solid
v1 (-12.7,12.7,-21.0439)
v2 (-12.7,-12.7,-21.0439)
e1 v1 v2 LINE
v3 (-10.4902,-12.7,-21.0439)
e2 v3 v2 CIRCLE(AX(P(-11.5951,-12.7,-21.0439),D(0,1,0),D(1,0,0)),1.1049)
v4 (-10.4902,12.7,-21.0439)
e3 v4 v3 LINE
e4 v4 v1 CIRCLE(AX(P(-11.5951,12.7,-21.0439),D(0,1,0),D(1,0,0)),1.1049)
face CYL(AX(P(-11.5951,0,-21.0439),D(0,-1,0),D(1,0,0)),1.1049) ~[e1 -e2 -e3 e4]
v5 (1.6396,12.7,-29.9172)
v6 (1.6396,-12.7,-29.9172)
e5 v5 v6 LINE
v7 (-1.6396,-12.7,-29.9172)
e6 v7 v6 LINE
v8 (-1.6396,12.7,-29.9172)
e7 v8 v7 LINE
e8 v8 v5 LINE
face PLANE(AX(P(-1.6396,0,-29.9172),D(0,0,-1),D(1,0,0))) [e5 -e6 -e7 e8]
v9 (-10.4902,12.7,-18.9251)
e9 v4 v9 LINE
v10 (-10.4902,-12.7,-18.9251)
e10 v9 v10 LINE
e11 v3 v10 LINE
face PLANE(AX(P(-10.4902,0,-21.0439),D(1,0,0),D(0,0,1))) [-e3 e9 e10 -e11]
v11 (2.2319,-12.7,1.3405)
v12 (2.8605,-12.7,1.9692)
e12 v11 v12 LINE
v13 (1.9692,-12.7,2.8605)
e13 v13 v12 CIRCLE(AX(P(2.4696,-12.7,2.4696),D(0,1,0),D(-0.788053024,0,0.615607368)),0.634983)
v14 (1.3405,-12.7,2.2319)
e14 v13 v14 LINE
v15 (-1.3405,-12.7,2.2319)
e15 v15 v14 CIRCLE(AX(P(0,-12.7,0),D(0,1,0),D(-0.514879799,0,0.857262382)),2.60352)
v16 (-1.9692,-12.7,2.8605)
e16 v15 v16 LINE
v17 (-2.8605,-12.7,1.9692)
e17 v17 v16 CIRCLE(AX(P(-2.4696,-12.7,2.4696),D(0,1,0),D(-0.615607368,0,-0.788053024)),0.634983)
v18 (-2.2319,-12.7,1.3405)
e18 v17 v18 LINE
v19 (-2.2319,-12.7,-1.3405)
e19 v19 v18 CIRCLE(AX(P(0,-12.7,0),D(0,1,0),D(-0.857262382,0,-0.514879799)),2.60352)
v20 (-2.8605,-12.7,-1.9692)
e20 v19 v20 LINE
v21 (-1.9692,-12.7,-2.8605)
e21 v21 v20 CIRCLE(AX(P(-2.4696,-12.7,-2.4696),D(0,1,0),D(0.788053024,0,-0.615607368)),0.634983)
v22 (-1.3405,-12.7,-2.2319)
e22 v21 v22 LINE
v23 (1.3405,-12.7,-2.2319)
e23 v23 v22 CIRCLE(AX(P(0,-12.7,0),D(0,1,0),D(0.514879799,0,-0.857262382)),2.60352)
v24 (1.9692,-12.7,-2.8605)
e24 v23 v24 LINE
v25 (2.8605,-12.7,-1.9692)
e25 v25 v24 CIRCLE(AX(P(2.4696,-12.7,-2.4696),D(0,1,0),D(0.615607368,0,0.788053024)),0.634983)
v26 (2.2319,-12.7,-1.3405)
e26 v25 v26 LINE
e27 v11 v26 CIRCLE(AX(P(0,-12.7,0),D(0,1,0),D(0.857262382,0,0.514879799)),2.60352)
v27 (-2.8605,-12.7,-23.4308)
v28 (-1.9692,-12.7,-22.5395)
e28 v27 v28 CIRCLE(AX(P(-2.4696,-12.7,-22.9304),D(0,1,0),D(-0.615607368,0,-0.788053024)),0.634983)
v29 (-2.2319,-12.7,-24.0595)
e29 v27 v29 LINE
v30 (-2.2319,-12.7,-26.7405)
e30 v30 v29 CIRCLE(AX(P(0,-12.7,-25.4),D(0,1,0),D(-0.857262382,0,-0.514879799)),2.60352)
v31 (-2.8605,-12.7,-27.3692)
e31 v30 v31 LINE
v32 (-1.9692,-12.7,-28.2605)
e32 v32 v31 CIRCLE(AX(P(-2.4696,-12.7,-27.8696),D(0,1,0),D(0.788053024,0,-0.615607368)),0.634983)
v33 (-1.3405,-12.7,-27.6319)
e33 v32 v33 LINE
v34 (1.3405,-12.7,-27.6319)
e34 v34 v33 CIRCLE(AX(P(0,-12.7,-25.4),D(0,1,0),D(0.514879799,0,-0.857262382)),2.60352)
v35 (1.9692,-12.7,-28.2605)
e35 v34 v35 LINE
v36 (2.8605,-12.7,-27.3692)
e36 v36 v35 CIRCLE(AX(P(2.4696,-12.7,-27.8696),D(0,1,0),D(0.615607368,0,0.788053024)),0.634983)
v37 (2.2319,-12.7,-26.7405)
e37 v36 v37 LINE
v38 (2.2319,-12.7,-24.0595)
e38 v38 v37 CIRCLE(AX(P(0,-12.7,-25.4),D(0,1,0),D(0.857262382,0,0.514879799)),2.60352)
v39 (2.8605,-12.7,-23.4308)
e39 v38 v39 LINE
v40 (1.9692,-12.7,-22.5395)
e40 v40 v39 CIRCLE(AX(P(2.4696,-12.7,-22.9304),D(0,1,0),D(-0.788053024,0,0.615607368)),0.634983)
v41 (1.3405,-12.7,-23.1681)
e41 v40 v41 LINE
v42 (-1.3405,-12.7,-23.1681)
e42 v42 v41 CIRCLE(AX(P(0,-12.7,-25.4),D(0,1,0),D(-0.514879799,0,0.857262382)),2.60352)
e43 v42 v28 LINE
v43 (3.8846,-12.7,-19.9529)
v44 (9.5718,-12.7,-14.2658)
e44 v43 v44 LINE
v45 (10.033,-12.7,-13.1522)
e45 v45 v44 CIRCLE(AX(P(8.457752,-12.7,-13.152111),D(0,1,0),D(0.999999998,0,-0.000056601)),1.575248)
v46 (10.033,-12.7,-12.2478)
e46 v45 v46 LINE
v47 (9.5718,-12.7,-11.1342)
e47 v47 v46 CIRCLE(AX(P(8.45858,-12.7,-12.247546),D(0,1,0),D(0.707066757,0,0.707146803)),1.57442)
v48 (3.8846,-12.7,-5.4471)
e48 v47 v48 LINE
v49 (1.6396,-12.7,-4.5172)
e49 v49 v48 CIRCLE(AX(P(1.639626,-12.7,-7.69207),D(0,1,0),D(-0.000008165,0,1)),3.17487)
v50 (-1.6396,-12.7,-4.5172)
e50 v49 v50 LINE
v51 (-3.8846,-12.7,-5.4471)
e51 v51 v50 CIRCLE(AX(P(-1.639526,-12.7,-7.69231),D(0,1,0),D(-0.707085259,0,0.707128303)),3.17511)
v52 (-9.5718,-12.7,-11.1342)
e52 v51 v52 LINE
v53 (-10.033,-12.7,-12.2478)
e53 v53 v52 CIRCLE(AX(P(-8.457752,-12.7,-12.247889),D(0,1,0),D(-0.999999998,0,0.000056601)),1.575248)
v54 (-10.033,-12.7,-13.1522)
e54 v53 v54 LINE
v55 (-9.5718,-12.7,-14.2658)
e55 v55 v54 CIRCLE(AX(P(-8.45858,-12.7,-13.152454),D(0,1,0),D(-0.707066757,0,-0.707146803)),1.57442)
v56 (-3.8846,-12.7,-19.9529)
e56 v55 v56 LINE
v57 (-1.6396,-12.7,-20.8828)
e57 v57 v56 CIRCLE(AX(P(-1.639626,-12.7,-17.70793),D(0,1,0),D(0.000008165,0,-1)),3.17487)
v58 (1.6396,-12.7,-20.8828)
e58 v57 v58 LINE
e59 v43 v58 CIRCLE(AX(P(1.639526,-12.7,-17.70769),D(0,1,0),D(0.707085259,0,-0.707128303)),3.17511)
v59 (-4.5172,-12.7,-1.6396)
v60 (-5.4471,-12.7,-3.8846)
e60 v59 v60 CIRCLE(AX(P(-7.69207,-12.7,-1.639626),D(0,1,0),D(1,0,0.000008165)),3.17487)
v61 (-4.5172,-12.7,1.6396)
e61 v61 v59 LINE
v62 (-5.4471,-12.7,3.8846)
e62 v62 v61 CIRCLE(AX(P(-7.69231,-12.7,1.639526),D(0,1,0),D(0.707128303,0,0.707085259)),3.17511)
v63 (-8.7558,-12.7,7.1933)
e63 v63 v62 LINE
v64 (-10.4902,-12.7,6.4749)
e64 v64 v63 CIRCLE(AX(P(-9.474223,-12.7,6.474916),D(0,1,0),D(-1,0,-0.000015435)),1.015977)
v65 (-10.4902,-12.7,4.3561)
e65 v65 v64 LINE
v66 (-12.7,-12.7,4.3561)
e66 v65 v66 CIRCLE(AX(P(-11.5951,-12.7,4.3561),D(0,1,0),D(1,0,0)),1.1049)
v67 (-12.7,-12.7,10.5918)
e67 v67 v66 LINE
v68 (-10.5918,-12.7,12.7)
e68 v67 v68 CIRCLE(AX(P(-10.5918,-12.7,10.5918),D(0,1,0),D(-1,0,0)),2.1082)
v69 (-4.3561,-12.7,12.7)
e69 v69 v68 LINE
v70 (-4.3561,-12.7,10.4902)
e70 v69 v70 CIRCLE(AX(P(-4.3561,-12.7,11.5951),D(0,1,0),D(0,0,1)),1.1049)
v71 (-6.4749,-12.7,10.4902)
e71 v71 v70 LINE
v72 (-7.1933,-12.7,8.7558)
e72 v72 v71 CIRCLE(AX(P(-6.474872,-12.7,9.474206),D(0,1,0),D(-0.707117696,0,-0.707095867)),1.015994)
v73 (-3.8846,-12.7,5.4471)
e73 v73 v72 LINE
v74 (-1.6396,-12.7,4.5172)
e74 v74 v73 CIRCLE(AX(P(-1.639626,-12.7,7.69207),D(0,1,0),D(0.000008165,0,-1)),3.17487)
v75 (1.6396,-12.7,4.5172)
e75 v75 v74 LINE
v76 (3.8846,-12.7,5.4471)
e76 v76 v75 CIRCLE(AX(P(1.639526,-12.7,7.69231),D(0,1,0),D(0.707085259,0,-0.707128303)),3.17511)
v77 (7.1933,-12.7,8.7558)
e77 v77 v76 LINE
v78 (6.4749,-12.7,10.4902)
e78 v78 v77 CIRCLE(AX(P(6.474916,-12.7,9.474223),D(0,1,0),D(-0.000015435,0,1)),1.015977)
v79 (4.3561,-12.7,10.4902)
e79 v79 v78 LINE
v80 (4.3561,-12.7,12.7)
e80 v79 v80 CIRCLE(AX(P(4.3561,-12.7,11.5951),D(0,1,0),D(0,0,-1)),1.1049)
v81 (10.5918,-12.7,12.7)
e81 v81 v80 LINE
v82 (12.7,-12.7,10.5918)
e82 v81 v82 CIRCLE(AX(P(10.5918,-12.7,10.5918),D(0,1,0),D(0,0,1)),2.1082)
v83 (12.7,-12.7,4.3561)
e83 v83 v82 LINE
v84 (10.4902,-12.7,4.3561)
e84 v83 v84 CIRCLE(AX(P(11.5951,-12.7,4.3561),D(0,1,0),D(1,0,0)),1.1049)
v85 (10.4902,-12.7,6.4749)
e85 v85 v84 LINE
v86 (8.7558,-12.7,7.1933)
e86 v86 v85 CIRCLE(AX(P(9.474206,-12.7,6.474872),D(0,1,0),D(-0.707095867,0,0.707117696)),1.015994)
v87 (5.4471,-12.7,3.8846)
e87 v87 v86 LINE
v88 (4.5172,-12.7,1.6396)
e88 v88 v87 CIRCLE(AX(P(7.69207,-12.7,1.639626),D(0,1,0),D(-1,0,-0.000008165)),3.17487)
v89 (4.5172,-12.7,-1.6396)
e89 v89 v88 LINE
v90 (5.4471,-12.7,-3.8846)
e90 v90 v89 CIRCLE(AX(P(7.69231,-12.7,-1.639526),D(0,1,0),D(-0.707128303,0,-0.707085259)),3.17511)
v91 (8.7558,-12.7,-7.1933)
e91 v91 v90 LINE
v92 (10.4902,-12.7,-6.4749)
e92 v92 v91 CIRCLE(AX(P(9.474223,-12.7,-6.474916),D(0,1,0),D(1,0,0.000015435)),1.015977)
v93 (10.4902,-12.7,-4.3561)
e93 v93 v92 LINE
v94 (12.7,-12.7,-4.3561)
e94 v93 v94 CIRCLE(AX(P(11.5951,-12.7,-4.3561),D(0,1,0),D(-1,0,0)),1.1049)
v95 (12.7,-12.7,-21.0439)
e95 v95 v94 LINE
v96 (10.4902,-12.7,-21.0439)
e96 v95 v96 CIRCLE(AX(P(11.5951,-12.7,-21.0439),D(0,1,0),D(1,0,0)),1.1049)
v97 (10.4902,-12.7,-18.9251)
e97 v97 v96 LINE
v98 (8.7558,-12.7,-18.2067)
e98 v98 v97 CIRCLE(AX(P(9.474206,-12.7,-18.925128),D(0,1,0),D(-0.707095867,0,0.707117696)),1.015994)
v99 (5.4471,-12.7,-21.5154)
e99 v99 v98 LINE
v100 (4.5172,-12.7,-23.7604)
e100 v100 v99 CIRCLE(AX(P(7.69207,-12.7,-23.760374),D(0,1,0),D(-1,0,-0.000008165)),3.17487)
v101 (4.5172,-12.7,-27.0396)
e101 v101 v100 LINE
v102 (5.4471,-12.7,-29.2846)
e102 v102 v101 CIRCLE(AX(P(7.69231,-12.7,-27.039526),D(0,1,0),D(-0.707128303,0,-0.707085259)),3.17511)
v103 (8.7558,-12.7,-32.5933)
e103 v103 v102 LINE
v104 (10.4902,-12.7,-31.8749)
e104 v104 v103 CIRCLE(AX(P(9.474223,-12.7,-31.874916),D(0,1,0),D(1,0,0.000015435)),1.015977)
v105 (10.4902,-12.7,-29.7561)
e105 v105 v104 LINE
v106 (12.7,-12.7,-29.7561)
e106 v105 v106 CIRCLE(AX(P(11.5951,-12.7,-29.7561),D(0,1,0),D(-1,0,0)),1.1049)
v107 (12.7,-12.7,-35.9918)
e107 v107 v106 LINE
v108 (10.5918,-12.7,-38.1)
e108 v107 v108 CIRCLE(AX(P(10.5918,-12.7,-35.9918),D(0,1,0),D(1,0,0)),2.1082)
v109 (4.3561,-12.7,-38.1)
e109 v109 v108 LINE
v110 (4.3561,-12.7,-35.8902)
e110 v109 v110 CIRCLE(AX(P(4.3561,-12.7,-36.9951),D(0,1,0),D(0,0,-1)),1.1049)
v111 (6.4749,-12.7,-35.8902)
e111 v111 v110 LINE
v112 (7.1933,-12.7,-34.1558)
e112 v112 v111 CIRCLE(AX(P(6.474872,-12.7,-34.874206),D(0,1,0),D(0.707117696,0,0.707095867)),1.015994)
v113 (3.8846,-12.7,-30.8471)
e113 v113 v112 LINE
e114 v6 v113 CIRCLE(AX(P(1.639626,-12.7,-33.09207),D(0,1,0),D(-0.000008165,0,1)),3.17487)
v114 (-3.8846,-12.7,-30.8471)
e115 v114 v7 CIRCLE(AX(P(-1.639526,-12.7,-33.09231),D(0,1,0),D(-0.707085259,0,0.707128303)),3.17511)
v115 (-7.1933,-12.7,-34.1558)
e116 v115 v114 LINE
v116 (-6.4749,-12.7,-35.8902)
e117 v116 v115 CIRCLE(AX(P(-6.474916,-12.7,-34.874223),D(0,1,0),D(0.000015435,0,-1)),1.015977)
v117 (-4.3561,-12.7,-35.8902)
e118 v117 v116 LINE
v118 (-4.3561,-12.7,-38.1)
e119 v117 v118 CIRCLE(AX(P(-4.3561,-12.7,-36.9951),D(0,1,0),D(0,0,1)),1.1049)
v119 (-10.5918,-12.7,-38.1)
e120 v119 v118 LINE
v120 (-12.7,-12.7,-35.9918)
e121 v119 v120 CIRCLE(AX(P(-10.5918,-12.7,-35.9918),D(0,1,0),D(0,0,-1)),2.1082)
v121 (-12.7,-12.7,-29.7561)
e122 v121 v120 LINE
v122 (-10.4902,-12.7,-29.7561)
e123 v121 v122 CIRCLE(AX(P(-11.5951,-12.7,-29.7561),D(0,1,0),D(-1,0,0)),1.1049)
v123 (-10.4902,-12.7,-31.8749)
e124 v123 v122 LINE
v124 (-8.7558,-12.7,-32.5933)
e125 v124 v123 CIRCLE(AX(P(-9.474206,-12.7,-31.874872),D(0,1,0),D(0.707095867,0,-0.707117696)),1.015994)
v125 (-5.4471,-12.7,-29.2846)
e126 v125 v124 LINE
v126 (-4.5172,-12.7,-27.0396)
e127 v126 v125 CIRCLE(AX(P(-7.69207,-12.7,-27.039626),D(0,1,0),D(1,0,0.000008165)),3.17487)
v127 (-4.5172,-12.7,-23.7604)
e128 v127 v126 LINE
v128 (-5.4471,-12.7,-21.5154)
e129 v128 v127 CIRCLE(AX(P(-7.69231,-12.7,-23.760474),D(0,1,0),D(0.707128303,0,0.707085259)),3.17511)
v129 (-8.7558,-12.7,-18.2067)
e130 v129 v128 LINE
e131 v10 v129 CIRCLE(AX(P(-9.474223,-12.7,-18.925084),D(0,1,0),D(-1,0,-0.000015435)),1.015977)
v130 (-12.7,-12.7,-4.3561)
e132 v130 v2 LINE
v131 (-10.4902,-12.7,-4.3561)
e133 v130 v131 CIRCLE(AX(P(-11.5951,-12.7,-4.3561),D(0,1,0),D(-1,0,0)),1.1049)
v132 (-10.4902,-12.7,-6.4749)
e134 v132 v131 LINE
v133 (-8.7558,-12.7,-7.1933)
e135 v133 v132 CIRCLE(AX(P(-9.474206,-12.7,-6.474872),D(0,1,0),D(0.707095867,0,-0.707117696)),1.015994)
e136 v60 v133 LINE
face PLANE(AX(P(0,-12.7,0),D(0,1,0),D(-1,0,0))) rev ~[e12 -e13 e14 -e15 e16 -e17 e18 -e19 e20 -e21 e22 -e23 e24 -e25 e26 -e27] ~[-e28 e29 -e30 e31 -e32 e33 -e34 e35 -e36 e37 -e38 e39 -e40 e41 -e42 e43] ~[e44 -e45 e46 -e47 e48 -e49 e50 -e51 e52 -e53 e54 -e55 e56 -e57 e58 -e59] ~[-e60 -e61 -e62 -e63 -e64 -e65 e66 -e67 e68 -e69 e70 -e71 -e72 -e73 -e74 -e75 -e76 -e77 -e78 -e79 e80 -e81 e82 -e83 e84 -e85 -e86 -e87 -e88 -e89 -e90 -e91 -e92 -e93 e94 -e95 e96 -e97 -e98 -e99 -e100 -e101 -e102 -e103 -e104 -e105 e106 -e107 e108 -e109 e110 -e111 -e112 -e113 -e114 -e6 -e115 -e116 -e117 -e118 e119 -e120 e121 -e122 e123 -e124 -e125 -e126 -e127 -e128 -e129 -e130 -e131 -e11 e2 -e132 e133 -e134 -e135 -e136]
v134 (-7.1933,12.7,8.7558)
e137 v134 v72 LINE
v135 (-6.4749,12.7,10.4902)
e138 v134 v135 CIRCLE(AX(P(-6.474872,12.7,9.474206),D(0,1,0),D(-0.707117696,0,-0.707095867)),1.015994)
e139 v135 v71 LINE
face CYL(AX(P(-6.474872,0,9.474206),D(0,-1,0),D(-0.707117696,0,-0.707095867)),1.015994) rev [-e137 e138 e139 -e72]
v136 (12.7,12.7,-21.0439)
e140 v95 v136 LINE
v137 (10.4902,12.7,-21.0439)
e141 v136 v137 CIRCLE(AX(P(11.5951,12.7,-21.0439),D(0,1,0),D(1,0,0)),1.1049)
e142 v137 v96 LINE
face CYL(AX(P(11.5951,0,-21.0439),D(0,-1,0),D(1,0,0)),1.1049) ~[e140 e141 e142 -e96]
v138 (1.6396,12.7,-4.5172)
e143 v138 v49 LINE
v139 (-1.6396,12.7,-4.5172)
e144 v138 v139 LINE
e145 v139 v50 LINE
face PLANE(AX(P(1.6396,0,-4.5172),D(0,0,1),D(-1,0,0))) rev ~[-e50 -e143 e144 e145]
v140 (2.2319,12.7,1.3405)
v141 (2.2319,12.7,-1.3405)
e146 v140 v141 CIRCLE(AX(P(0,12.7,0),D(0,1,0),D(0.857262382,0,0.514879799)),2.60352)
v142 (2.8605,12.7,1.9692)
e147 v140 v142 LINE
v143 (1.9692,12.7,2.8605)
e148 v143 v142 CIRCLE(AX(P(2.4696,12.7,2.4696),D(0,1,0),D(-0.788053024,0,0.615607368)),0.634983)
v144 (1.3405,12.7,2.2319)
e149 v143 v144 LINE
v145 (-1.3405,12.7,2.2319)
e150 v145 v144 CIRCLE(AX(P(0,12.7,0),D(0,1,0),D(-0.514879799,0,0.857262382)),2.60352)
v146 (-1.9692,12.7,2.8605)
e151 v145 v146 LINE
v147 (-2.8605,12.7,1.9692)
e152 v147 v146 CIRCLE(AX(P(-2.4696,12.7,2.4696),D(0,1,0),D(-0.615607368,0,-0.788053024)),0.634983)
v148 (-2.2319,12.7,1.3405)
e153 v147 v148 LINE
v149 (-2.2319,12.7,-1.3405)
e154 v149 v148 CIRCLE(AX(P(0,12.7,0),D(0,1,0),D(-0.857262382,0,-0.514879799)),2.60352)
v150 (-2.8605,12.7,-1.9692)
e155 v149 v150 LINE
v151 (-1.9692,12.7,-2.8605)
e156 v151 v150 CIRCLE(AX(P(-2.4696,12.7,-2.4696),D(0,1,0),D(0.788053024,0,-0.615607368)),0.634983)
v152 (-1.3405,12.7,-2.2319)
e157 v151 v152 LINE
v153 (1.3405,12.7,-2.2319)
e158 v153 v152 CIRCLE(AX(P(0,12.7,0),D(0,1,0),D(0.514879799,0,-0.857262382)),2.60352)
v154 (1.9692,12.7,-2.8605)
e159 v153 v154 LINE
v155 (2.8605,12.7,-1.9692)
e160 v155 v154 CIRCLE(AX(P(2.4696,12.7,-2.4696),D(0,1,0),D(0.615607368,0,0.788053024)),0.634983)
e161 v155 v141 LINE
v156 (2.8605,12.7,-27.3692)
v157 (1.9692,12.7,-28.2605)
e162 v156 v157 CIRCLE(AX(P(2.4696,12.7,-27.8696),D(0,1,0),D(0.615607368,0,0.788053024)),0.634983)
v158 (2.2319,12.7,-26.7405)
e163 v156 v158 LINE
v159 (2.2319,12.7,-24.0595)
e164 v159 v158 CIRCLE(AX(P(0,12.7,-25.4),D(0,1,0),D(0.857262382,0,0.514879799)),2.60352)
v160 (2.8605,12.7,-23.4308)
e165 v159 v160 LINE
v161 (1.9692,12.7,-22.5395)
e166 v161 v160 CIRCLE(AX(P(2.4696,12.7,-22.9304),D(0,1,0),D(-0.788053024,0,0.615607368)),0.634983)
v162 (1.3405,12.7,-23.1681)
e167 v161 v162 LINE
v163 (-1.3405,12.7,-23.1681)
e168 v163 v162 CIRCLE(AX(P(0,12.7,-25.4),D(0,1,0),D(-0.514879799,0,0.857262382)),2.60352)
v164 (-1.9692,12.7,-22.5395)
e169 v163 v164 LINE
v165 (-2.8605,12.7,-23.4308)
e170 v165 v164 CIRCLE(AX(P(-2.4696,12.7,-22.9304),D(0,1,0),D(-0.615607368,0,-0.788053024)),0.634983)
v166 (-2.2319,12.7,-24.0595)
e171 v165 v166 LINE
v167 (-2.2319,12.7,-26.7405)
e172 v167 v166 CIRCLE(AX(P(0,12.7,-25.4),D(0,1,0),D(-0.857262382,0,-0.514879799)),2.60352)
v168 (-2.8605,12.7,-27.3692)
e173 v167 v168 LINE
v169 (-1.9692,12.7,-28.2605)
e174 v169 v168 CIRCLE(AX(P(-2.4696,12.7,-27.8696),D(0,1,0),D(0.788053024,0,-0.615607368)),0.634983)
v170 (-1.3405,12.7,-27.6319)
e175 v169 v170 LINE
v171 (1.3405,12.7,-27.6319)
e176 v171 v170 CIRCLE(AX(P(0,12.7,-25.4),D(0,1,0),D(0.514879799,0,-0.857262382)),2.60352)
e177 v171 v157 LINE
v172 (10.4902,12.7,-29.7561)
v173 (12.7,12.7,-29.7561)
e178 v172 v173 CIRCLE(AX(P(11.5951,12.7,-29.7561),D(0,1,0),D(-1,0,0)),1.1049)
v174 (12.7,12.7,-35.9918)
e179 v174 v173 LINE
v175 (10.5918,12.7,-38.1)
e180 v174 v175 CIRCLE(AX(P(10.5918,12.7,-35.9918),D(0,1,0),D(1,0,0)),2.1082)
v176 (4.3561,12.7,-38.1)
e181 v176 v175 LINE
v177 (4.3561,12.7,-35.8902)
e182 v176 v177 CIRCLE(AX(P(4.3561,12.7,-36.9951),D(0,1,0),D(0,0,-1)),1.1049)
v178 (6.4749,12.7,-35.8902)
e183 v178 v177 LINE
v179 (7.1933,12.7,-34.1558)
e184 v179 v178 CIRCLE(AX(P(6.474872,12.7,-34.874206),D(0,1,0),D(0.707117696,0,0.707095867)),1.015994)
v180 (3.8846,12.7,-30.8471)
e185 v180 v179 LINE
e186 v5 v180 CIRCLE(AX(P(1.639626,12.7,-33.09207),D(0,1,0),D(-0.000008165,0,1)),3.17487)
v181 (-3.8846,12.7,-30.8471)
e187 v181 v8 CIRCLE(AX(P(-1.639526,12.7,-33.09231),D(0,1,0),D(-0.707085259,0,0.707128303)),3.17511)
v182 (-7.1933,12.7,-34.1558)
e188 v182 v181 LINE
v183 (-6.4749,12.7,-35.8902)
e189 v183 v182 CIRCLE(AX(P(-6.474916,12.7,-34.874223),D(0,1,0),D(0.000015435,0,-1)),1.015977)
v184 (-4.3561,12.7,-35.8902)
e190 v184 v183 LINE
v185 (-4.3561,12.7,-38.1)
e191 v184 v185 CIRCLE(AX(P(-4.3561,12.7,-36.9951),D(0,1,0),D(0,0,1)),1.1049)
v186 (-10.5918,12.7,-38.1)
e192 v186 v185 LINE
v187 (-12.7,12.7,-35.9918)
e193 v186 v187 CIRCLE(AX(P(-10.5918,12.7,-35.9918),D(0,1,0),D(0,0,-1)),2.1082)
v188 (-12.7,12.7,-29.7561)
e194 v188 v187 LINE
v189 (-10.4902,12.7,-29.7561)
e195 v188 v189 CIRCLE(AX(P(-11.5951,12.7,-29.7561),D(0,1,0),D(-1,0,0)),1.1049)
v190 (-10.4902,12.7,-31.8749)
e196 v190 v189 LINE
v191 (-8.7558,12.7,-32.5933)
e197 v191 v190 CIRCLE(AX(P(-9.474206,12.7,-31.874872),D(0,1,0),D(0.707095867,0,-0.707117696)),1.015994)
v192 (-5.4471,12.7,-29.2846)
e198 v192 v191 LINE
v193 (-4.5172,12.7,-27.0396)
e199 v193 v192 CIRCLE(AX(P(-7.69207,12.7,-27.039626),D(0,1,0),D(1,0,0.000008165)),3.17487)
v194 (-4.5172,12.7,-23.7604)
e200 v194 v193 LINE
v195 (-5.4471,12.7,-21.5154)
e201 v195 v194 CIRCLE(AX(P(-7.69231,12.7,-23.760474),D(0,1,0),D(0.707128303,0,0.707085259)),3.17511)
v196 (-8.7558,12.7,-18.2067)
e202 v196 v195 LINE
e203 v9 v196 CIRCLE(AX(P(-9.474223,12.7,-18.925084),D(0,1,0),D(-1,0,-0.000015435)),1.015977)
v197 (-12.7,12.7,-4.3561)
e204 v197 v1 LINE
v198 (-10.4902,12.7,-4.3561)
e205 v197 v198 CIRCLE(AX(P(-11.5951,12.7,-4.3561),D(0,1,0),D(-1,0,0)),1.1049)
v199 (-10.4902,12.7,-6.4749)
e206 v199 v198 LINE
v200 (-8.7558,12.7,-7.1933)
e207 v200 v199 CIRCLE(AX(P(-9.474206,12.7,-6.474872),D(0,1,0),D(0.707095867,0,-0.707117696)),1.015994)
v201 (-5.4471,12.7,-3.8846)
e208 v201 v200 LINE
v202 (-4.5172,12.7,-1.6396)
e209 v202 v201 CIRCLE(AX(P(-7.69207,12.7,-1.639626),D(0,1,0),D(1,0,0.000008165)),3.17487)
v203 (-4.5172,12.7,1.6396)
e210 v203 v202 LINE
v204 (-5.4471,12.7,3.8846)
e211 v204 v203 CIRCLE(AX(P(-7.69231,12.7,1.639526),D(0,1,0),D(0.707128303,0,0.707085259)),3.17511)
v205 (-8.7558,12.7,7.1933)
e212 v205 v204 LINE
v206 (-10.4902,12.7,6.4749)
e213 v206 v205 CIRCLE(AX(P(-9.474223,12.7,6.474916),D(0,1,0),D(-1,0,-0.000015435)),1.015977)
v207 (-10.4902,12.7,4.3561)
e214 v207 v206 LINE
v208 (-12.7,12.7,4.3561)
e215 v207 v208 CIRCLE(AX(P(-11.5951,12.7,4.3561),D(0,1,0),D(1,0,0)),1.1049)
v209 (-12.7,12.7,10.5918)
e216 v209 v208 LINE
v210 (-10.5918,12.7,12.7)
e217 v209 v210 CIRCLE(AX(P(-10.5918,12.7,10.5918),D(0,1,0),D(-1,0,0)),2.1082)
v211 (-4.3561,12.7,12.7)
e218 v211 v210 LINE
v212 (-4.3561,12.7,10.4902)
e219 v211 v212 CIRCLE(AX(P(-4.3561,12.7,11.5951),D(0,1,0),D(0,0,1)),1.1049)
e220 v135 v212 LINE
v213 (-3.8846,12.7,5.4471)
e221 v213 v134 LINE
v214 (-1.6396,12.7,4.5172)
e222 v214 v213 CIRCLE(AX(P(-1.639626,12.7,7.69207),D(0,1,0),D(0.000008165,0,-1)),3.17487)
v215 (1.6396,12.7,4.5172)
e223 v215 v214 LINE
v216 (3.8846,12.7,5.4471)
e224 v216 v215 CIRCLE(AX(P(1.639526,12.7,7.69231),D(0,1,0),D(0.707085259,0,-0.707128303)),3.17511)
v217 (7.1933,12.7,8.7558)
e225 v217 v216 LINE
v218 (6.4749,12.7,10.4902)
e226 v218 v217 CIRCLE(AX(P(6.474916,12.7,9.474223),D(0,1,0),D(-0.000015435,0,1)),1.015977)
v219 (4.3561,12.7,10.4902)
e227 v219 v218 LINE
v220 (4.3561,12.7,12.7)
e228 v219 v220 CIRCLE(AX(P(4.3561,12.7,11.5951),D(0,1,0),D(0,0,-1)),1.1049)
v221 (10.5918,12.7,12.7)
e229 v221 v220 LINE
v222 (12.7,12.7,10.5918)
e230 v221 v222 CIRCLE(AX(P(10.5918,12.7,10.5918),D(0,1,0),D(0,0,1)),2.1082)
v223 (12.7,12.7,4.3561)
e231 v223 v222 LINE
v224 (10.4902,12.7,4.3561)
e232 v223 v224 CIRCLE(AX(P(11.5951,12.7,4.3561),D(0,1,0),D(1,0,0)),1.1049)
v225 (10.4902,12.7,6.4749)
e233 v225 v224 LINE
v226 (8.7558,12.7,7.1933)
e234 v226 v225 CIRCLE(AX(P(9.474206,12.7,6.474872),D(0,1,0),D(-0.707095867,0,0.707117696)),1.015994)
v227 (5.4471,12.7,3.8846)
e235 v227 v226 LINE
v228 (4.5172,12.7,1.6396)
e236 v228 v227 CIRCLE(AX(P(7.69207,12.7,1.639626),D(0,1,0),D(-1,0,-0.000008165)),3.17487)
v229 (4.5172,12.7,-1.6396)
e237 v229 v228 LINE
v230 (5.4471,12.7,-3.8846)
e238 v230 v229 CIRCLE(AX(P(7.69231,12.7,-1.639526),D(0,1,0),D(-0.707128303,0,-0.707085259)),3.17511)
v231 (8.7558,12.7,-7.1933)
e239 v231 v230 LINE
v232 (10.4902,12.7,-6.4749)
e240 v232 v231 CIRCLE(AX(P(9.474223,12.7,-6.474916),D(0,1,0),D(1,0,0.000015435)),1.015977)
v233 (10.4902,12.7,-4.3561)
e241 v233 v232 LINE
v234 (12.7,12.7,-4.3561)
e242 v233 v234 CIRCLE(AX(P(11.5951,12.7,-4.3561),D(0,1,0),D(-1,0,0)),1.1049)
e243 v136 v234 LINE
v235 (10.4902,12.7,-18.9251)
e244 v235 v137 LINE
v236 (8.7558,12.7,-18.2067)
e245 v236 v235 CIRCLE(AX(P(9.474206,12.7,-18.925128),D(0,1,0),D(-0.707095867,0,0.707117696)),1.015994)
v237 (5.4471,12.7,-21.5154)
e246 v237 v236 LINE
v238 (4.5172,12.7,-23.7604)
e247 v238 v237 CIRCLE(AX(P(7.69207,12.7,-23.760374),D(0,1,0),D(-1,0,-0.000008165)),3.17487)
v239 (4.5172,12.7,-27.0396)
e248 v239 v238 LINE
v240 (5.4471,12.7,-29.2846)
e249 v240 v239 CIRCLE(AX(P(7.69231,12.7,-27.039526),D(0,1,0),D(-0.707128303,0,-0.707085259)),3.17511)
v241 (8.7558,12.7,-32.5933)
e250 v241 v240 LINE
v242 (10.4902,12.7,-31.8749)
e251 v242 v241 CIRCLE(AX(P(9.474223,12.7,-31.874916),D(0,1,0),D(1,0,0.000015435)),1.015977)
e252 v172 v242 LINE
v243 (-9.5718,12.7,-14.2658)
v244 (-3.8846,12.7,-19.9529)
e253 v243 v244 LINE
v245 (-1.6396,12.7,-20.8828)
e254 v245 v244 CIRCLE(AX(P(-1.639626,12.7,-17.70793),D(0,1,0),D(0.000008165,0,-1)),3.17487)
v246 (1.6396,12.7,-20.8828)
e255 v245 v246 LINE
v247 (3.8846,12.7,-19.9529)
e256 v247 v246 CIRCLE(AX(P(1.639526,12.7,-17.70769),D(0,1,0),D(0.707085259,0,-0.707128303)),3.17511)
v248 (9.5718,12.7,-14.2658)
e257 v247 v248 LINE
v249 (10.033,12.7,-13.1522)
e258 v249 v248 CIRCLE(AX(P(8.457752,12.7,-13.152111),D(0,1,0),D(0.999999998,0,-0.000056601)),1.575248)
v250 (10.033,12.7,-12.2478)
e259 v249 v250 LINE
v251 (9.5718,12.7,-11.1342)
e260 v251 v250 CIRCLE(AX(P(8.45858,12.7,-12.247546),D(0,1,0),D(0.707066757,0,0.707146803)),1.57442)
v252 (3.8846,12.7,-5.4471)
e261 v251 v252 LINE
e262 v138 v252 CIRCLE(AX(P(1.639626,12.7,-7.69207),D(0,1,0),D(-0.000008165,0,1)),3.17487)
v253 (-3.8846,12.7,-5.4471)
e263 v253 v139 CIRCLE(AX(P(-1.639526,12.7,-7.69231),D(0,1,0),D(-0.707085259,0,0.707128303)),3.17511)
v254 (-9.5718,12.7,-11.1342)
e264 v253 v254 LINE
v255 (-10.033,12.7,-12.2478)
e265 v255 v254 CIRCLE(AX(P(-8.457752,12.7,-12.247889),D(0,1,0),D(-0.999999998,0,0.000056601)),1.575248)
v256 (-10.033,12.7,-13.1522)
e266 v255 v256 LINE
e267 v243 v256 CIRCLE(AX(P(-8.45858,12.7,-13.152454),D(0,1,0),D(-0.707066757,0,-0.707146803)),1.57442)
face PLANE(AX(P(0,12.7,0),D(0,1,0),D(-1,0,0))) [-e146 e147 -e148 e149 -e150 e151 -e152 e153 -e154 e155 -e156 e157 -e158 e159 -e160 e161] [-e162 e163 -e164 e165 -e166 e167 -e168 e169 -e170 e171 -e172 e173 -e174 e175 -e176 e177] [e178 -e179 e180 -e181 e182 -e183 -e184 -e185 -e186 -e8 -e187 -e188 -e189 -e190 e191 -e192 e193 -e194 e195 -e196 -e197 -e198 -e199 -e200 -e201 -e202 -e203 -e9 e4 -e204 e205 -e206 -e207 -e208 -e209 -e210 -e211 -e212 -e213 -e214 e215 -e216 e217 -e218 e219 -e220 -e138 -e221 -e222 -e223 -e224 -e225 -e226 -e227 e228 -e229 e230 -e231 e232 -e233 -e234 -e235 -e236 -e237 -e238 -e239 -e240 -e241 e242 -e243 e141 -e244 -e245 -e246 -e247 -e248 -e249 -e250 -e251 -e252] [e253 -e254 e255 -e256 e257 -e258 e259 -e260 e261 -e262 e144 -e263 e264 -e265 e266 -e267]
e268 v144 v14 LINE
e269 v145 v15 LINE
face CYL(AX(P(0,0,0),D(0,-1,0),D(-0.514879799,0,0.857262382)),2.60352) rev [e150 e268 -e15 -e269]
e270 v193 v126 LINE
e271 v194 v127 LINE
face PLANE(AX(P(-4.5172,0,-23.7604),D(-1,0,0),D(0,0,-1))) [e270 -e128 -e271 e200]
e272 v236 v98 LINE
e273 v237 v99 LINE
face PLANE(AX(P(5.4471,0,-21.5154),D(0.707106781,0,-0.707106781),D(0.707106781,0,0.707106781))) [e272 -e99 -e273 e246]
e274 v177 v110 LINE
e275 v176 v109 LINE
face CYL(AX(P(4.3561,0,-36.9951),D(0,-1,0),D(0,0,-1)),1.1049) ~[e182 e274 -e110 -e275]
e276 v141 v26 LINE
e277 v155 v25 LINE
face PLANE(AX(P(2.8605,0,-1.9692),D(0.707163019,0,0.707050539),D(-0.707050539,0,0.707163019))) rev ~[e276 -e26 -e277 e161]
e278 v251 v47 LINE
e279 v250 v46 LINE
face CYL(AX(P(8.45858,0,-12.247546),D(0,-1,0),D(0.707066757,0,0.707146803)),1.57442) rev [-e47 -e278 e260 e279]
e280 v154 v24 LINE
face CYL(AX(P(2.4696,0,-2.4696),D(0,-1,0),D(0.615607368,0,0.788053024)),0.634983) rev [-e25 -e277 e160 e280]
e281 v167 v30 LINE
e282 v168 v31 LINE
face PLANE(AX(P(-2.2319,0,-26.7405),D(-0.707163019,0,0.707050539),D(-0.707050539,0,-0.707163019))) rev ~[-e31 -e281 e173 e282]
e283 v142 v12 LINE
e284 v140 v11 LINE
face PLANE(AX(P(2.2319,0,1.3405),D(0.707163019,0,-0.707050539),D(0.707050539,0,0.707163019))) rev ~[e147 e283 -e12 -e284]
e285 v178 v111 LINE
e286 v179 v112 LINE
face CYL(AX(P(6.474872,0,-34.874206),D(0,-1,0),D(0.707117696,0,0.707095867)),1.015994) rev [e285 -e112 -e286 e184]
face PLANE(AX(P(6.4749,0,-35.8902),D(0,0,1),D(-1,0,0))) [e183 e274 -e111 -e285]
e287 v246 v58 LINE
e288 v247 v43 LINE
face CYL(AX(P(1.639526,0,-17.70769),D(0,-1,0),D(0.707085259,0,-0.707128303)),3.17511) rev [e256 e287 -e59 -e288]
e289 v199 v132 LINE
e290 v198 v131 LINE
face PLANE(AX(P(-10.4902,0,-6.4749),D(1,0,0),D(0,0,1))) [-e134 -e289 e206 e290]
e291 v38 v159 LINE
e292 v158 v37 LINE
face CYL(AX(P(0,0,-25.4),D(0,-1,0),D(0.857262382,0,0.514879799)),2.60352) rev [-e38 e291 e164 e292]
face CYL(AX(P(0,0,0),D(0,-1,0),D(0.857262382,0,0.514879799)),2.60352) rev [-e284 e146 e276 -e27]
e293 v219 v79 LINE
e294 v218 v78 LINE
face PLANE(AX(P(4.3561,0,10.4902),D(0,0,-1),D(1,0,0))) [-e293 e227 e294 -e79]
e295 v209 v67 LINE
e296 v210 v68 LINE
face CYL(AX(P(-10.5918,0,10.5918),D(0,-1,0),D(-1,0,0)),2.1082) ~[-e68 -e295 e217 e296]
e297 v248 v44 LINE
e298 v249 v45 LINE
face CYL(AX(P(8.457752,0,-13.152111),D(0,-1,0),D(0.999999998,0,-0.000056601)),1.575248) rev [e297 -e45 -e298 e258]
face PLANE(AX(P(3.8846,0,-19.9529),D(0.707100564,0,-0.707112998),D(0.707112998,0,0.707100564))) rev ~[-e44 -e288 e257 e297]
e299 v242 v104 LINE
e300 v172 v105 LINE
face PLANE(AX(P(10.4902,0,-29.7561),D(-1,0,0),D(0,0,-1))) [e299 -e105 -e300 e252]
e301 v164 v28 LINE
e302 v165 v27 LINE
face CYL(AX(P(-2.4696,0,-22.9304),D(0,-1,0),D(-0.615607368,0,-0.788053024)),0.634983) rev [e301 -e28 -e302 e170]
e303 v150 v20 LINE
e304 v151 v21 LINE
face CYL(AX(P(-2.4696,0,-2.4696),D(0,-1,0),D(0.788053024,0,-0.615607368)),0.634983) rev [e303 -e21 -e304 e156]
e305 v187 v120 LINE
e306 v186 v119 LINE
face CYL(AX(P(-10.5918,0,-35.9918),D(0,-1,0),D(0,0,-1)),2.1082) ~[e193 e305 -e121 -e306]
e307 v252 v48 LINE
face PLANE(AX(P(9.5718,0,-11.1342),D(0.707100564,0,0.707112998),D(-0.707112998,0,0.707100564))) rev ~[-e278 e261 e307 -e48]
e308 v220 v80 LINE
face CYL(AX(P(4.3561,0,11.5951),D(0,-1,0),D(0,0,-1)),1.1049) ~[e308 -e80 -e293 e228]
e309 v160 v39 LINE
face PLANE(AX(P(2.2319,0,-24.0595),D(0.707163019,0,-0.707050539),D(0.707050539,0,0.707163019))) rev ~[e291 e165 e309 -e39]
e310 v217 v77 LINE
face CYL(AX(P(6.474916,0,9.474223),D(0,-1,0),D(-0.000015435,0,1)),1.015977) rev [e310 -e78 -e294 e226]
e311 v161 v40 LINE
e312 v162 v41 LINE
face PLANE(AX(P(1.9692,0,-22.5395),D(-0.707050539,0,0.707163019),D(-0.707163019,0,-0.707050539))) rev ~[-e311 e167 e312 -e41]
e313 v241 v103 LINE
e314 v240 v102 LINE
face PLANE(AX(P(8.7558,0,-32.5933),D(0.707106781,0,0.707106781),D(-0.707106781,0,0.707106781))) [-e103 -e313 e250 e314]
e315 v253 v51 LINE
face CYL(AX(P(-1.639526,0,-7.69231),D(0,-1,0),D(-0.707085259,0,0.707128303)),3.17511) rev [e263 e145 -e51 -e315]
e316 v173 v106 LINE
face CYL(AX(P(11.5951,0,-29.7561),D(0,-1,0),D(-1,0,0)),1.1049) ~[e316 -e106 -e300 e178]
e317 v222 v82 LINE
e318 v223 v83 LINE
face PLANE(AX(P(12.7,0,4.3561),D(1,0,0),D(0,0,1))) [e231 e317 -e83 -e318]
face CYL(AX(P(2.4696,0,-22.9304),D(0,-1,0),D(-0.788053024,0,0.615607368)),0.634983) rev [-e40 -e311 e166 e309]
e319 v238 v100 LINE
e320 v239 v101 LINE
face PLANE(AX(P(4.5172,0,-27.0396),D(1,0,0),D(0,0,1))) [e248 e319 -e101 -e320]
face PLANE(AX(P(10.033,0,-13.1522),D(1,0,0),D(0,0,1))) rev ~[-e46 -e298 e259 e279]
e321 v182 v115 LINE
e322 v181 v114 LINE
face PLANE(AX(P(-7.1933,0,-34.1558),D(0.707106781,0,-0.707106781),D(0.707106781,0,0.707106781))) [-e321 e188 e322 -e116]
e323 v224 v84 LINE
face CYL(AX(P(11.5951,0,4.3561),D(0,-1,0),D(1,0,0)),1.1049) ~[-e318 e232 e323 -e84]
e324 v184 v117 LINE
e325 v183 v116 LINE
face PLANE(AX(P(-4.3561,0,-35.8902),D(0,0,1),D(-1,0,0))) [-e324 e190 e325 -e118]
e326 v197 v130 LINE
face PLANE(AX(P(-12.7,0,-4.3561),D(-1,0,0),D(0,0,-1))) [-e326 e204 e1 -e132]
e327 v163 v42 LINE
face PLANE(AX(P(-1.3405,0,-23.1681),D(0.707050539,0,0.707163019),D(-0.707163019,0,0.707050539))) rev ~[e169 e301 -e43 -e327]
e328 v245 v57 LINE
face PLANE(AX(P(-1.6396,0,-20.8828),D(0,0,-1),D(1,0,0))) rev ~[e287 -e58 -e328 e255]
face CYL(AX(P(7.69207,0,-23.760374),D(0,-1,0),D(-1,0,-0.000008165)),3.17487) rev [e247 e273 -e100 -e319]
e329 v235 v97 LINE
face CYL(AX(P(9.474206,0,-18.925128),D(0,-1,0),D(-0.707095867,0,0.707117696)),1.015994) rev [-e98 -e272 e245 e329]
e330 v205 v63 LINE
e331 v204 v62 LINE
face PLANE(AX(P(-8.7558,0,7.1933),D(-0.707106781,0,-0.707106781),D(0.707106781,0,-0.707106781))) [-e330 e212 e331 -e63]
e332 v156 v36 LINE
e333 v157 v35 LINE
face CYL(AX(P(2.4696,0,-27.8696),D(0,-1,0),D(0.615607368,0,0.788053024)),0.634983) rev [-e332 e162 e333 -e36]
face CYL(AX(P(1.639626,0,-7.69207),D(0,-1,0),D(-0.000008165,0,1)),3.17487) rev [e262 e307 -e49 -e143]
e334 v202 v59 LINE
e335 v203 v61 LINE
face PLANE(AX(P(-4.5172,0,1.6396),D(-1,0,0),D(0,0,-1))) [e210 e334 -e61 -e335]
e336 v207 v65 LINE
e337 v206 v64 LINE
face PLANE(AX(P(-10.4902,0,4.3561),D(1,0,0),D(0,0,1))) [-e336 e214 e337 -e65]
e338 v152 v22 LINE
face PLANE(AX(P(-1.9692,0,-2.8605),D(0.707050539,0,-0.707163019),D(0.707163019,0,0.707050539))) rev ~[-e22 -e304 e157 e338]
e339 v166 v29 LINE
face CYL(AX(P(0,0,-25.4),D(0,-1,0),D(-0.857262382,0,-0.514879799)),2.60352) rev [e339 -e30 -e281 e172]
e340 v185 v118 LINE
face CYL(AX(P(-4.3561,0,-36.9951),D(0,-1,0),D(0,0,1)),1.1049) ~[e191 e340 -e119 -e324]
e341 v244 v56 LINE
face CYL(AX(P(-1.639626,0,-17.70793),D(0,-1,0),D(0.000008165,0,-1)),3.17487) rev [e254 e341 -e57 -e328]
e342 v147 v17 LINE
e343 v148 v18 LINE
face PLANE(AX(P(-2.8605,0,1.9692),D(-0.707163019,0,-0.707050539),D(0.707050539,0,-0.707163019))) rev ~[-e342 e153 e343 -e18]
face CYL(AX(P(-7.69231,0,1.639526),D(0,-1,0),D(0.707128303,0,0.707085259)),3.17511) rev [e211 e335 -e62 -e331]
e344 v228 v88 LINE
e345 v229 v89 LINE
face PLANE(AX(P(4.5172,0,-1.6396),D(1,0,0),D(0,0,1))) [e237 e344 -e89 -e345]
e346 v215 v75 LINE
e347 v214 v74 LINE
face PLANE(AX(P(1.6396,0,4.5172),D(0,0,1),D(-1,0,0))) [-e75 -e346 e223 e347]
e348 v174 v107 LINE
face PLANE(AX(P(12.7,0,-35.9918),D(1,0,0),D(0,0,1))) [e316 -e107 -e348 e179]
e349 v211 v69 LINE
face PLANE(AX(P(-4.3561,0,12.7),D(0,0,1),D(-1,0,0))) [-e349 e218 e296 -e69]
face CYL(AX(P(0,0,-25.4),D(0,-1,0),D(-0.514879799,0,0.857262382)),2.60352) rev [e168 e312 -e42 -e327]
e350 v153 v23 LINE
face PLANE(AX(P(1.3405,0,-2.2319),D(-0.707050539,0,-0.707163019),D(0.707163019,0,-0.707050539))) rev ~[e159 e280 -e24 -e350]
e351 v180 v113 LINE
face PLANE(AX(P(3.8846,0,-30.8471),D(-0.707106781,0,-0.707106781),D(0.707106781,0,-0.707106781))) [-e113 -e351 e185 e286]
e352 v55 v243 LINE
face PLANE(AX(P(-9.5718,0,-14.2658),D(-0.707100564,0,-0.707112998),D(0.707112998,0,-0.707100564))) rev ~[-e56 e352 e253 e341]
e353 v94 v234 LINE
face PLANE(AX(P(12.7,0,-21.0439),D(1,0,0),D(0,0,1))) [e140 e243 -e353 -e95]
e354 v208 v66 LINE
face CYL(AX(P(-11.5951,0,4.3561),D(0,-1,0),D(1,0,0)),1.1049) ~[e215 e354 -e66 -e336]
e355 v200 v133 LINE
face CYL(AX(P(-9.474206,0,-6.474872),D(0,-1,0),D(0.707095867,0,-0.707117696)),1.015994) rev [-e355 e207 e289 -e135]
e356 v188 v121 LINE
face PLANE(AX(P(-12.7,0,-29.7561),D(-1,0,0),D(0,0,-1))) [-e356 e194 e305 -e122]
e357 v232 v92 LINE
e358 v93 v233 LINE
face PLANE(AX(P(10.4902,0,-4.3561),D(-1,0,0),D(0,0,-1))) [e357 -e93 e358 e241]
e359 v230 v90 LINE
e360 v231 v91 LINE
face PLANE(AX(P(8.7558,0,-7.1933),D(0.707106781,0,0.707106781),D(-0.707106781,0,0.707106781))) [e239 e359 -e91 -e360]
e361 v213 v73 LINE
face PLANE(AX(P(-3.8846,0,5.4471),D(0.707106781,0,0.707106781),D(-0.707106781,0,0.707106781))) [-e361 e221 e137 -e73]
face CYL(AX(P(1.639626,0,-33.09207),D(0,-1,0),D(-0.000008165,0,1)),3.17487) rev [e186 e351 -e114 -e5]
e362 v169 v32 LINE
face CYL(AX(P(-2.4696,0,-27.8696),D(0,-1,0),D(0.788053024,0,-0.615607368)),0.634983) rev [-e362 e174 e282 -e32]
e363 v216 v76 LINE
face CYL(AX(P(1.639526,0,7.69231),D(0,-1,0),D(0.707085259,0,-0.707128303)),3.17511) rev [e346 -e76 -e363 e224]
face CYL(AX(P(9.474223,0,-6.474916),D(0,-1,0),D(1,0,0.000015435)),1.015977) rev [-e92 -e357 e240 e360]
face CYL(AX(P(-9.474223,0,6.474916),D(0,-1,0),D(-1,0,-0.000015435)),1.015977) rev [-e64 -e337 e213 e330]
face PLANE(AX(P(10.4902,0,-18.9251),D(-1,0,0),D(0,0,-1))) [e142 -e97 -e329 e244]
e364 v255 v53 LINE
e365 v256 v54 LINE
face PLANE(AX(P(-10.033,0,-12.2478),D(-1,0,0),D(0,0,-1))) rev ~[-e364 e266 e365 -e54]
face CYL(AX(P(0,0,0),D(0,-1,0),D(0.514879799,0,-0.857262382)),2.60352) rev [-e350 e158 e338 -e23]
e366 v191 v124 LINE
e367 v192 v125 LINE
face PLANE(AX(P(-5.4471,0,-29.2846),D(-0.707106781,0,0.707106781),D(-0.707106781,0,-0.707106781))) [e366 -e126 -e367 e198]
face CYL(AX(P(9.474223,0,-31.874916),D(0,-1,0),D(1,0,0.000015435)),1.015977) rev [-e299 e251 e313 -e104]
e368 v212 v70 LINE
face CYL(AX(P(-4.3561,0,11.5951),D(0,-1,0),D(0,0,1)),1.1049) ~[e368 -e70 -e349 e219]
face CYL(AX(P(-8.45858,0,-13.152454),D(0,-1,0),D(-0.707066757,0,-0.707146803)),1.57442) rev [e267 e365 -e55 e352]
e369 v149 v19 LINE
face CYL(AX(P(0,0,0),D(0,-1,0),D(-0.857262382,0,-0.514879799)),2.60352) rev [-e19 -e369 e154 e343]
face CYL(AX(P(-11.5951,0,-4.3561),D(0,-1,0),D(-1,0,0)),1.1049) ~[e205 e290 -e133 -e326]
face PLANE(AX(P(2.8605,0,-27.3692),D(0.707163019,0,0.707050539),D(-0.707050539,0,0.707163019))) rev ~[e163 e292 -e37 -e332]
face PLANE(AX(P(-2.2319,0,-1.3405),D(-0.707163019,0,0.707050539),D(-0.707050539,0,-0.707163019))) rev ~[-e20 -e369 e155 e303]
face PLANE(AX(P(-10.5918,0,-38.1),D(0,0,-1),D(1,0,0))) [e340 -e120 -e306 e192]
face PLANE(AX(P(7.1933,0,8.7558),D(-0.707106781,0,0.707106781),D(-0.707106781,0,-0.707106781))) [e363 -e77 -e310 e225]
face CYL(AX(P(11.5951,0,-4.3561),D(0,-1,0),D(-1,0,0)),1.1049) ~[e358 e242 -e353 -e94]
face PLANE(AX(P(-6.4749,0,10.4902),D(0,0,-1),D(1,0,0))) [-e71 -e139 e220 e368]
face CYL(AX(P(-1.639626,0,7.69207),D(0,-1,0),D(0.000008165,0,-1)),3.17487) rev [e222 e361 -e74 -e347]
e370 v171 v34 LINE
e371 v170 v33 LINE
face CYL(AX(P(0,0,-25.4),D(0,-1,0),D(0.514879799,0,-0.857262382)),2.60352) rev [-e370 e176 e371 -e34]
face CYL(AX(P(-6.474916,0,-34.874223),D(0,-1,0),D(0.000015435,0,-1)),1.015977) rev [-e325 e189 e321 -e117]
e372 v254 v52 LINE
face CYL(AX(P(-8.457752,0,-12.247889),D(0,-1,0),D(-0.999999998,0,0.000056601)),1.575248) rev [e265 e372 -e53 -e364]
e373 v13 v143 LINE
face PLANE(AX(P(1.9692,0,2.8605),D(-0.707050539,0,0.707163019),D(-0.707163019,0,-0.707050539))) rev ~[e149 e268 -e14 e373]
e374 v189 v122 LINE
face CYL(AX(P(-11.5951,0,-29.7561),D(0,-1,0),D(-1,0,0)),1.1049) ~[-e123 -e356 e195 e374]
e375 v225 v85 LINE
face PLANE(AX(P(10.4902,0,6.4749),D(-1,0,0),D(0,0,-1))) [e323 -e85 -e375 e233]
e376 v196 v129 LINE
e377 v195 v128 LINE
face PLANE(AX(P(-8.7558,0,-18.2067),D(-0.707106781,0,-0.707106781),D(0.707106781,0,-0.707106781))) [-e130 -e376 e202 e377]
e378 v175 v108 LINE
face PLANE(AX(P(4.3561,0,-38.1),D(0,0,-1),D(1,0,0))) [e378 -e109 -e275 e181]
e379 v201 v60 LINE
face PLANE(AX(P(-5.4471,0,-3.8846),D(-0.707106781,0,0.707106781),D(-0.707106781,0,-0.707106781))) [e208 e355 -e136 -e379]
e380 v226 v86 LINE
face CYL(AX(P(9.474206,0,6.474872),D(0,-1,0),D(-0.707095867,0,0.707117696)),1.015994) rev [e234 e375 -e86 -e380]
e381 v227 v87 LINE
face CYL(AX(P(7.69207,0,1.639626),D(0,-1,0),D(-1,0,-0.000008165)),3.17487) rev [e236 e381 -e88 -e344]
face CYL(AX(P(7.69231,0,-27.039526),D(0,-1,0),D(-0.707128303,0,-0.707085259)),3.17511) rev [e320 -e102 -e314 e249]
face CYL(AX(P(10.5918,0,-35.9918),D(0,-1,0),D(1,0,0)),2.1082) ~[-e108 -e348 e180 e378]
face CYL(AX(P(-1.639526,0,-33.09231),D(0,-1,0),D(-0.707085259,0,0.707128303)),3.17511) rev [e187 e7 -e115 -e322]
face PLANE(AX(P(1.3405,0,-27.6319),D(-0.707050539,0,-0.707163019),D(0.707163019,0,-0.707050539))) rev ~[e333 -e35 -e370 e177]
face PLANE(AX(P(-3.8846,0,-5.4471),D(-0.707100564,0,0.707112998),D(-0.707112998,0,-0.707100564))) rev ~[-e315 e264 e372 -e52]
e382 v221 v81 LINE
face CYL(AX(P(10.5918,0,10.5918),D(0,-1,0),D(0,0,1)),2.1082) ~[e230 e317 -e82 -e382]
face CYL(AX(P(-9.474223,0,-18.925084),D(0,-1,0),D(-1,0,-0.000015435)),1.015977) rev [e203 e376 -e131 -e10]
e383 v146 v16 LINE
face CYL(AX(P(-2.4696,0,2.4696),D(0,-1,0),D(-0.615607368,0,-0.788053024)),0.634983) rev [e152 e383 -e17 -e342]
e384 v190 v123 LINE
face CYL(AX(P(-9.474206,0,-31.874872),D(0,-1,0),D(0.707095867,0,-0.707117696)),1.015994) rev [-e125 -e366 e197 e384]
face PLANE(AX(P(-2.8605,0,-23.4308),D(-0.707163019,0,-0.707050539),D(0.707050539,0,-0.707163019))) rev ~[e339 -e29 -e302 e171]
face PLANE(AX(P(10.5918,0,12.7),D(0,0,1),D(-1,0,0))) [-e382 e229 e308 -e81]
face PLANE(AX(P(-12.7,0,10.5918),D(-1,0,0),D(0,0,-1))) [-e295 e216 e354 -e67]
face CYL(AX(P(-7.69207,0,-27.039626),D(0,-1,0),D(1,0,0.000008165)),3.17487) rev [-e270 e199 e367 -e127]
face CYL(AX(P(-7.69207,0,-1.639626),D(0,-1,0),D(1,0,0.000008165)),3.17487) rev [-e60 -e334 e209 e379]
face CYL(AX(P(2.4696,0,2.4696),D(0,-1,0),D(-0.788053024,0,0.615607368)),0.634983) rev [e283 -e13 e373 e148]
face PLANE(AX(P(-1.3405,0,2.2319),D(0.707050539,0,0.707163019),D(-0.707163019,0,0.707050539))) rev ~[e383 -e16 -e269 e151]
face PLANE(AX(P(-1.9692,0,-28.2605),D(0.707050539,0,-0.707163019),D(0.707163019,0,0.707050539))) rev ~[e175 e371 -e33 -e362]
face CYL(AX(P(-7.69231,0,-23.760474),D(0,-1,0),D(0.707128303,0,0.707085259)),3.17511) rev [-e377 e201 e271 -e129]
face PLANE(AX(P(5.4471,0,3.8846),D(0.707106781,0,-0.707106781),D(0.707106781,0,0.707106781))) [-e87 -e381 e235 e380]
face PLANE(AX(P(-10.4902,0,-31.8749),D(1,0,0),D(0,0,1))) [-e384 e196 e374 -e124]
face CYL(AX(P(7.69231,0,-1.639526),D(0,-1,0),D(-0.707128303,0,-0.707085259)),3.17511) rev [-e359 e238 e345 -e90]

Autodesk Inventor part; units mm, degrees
ref_plane "YZ Plane" through (0, 0, 0) normal (1, 0, 0) x (0, 1, 0)
ref_plane "XZ Plane" through (0, 0, 0) normal (0, 1, 0) x (-1, 0, 0)
ref_plane "XY Plane" through (0, 0, 0) normal (0, 0, 1) x (1, 0, 0)
sketch "Sketch1" plane through (0, 0, 0) normal (0, 1, 0) x (-1, 0, 0)
  arc A0 (9.5718, -14.2658) -> (10.033, -13.1522) centre (8.4582, -13.1522) ccw
  line L0 (10.033, -12.2478) -> (10.033, -13.1522)
  arc A1 (10.033, -12.2478) -> (9.5718, -11.1342) centre (8.4582, -12.2478) ccw
  line L1 (3.8846, -5.4471) -> (9.5718, -11.1342)
  arc A2 (3.8846, -5.4471) -> (1.6396, -4.5172) centre (1.6396, -7.6922) ccw
  line L2 (-1.6396, -4.5172) -> (1.6396, -4.5172)
  arc A3 (-1.6396, -4.5172) -> (-3.8846, -5.4471) centre (-1.6396, -7.6922) ccw
  line L3 (-9.5718, -11.1342) -> (-3.8846, -5.4471)
  arc A4 (-9.5718, -11.1342) -> (-10.033, -12.2478) centre (-8.4582, -12.2478) ccw
  line L4 (-10.033, -13.1522) -> (-10.033, -12.2478)
  arc A5 (-10.033, -13.1522) -> (-9.5718, -14.2658) centre (-8.4582, -13.1522) ccw
  line L5 (-3.8846, -19.9529) -> (-9.5718, -14.2658)
  arc A6 (-3.8846, -19.9529) -> (-1.6396, -20.8828) centre (-1.6396, -17.7078) ccw
  line L6 (1.6396, -20.8828) -> (-1.6396, -20.8828)
  arc A7 (1.6396, -20.8828) -> (3.8846, -19.9529) centre (1.6396, -17.7078) ccw
  line L7 (9.5718, -14.2658) -> (3.8846, -19.9529)
  arc A8 (-1.9692, 2.8605) -> (-2.8605, 1.9692) centre (-2.4696, 2.4696) ccw
  line L8 (-2.2319, 1.3405) -> (-2.8605, 1.9692)
  arc A9 (-2.2319, 1.3405) -> (-2.2319, -1.3405) centre (0, 0) ccw
  line L9 (-2.8605, -1.9692) -> (-2.2319, -1.3405)
  arc A10 (-2.8605, -1.9692) -> (-1.9692, -2.8605) centre (-2.4696, -2.4696) ccw
  line L10 (-1.3405, -2.2319) -> (-1.9692, -2.8605)
  arc A11 (-1.3405, -2.2319) -> (1.3405, -2.2319) centre (0, 0) ccw
  line L11 (1.9692, -2.8605) -> (1.3405, -2.2319)
  arc A12 (1.9692, -2.8605) -> (2.8605, -1.9692) centre (2.4696, -2.4696) ccw
  line L12 (2.2319, -1.3405) -> (2.8605, -1.9692)
  arc A13 (2.2319, -1.3405) -> (2.2319, 1.3405) centre (0, 0) ccw
  line L13 (2.8605, 1.9692) -> (2.2319, 1.3405)
  arc A14 (2.8605, 1.9692) -> (1.9692, 2.8605) centre (2.4696, 2.4696) ccw
  line L14 (1.3405, 2.2319) -> (1.9692, 2.8605)
  arc A15 (1.3405, 2.2319) -> (-1.3405, 2.2319) centre (0, 0) ccw
  line L15 (-1.9692, 2.8605) -> (-1.3405, 2.2319)
  arc A16 (-2.2319, -24.0595) -> (-2.2319, -26.7405) centre (0, -25.4) ccw
  line L16 (-2.8605, -27.3692) -> (-2.2319, -26.7405)
  arc A17 (-2.8605, -27.3692) -> (-1.9692, -28.2605) centre (-2.4696, -27.8696) ccw
  line L17 (-1.3405, -27.6319) -> (-1.9692, -28.2605)
  arc A18 (-1.3405, -27.6319) -> (1.3405, -27.6319) centre (0, -25.4) ccw
  line L18 (1.9692, -28.2605) -> (1.3405, -27.6319)
  arc A19 (1.9692, -28.2605) -> (2.8605, -27.3692) centre (2.4696, -27.8696) ccw
  line L19 (2.2319, -26.7405) -> (2.8605, -27.3692)
  arc A20 (2.2319, -26.7405) -> (2.2319, -24.0595) centre (0, -25.4) ccw
  line L20 (2.8605, -23.4308) -> (2.2319, -24.0595)
  arc A21 (2.8605, -23.4308) -> (1.9692, -22.5395) centre (2.4696, -22.9304) ccw
  line L21 (1.3405, -23.1681) -> (1.9692, -22.5395)
  arc A22 (1.3405, -23.1681) -> (-1.3405, -23.1681) centre (0, -25.4) ccw
  line L22 (-1.9692, -22.5395) -> (-1.3405, -23.1681)
  arc A23 (-1.9692, -22.5395) -> (-2.8605, -23.4308) centre (-2.4696, -22.9304) ccw
  line L23 (-2.2319, -24.0595) -> (-2.8605, -23.4308)
  arc A24 (-10.4902, -4.3561) -> (-12.7, -4.3561) centre (-11.5951, -4.3561) ccw
  line L24 (-10.4902, -4.3561) -> (-10.4902, -6.4749)
  arc A25 (-10.4902, -6.4749) -> (-8.7558, -7.1933) centre (-9.4742, -6.4749) ccw
  line L25 (-8.7558, -7.1933) -> (-5.4471, -3.8846)
  arc A26 (-5.4471, -3.8846) -> (-4.5172, -1.6396) centre (-7.6922, -1.6396) ccw
  line L26 (-4.5172, -1.6396) -> (-4.5172, 1.6396)
  arc A27 (-4.5172, 1.6396) -> (-5.4471, 3.8846) centre (-7.6922, 1.6396) ccw
  line L27 (-5.4471, 3.8846) -> (-8.7558, 7.1933)
  arc A28 (-8.7558, 7.1933) -> (-10.4902, 6.4749) centre (-9.4742, 6.4749) ccw
  line L28 (-10.4902, 6.4749) -> (-10.4902, 4.3561)
  arc A29 (-12.7, 4.3561) -> (-10.4902, 4.3561) centre (-11.5951, 4.3561) ccw
  line L29 (-12.7, 4.3561) -> (-12.7, 10.5918)
  arc A30 (-10.5918, 12.7) -> (-12.7, 10.5918) centre (-10.5918, 10.5918) ccw
  line L30 (-10.5918, 12.7) -> (-4.3561, 12.7)
  arc A31 (-4.3561, 10.4902) -> (-4.3561, 12.7) centre (-4.3561, 11.5951) ccw
  line L31 (-4.3561, 10.4902) -> (-6.4749, 10.4902)
  arc A32 (-6.4749, 10.4902) -> (-7.1933, 8.7558) centre (-6.4749, 9.4742) ccw
  line L32 (-7.1933, 8.7558) -> (-3.8846, 5.4471)
  arc A33 (-3.8846, 5.4471) -> (-1.6396, 4.5172) centre (-1.6396, 7.6922) ccw
  line L33 (-1.6396, 4.5172) -> (1.6396, 4.5172)
  arc A34 (1.6396, 4.5172) -> (3.8846, 5.4471) centre (1.6396, 7.6922) ccw
  line L34 (3.8846, 5.4471) -> (7.1933, 8.7558)
  arc A35 (7.1933, 8.7558) -> (6.4749, 10.4902) centre (6.4749, 9.4742) ccw
  line L35 (6.4749, 10.4902) -> (4.3561, 10.4902)
  arc A36 (4.3561, 12.7) -> (4.3561, 10.4902) centre (4.3561, 11.5951) ccw
  line L36 (4.3561, 12.7) -> (10.5918, 12.7)
  arc A37 (12.7, 10.5918) -> (10.5918, 12.7) centre (10.5918, 10.5918) ccw
  line L37 (12.7, 10.5918) -> (12.7, 4.3561)
  arc A38 (10.4902, 4.3561) -> (12.7, 4.3561) centre (11.5951, 4.3561) ccw
  line L38 (10.4902, 4.3561) -> (10.4902, 6.4749)
  arc A39 (10.4902, 6.4749) -> (8.7558, 7.1933) centre (9.4742, 6.4749) ccw
  line L39 (8.7558, 7.1933) -> (5.4471, 3.8846)
  arc A40 (5.4471, 3.8846) -> (4.5172, 1.6396) centre (7.6922, 1.6396) ccw
  line L40 (4.5172, 1.6396) -> (4.5172, -1.6396)
  arc A41 (4.5172, -1.6396) -> (5.4471, -3.8846) centre (7.6922, -1.6396) ccw
  line L41 (5.4471, -3.8846) -> (8.7558, -7.1933)
  arc A42 (8.7558, -7.1933) -> (10.4902, -6.4749) centre (9.4742, -6.4749) ccw
  line L42 (10.4902, -6.4749) -> (10.4902, -4.3561)
  arc A43 (12.7, -4.3561) -> (10.4902, -4.3561) centre (11.5951, -4.3561) ccw
  line L43 (12.7, -4.3561) -> (12.7, -21.0439)
  arc A44 (10.4902, -21.0439) -> (12.7, -21.0439) centre (11.5951, -21.0439) ccw
  line L44 (10.4902, -21.0439) -> (10.4902, -18.9251)
  arc A45 (10.4902, -18.9251) -> (8.7558, -18.2067) centre (9.4742, -18.9251) ccw
  line L45 (8.7558, -18.2067) -> (5.4471, -21.5154)
  arc A46 (5.4471, -21.5154) -> (4.5172, -23.7604) centre (7.6922, -23.7604) ccw
  line L46 (4.5172, -23.7604) -> (4.5172, -27.0396)
  arc A47 (4.5172, -27.0396) -> (5.4471, -29.2846) centre (7.6922, -27.0396) ccw
  line L47 (5.4471, -29.2846) -> (8.7558, -32.5933)
  arc A48 (8.7558, -32.5933) -> (10.4902, -31.8749) centre (9.4742, -31.8749) ccw
  line L48 (10.4902, -31.8749) -> (10.4902, -29.7561)
  arc A49 (12.7, -29.7561) -> (10.4902, -29.7561) centre (11.5951, -29.7561) ccw
  line L49 (12.7, -29.7561) -> (12.7, -35.9918)
  arc A50 (10.5918, -38.1) -> (12.7, -35.9918) centre (10.5918, -35.9918) ccw
  line L50 (10.5918, -38.1) -> (4.3561, -38.1)
  arc A51 (4.3561, -35.8902) -> (4.3561, -38.1) centre (4.3561, -36.9951) ccw
  line L51 (4.3561, -35.8902) -> (6.4749, -35.8902)
  arc A52 (6.4749, -35.8902) -> (7.1933, -34.1558) centre (6.4749, -34.8742) ccw
  line L52 (7.1933, -34.1558) -> (3.8846, -30.8471)
  arc A53 (3.8846, -30.8471) -> (1.6396, -29.9172) centre (1.6396, -33.0922) ccw
  line L53 (1.6396, -29.9172) -> (-1.6396, -29.9172)
  arc A54 (-1.6396, -29.9172) -> (-3.8846, -30.8471) centre (-1.6396, -33.0922) ccw
  line L54 (-3.8846, -30.8471) -> (-7.1933, -34.1558)
  arc A55 (-7.1933, -34.1558) -> (-6.4749, -35.8902) centre (-6.4749, -34.8742) ccw
  line L55 (-6.4749, -35.8902) -> (-4.3561, -35.8902)
  arc A56 (-4.3561, -38.1) -> (-4.3561, -35.8902) centre (-4.3561, -36.9951) ccw
  line L56 (-4.3561, -38.1) -> (-10.5918, -38.1)
  arc A57 (-12.7, -35.9918) -> (-10.5918, -38.1) centre (-10.5918, -35.9918) ccw
  line L57 (-12.7, -35.9918) -> (-12.7, -29.7561)
  arc A58 (-10.4902, -29.7561) -> (-12.7, -29.7561) centre (-11.5951, -29.7561) ccw
  line L58 (-10.4902, -29.7561) -> (-10.4902, -31.8749)
  arc A59 (-10.4902, -31.8749) -> (-8.7558, -32.5933) centre (-9.4742, -31.8749) ccw
  line L59 (-8.7558, -32.5933) -> (-5.4471, -29.2846)
  arc A60 (-5.4471, -29.2846) -> (-4.5172, -27.0396) centre (-7.6922, -27.0396) ccw
  line L60 (-4.5172, -27.0396) -> (-4.5172, -23.7604)
  arc A61 (-4.5172, -23.7604) -> (-5.4471, -21.5154) centre (-7.6922, -23.7604) ccw
  line L61 (-5.4471, -21.5154) -> (-8.7558, -18.2067)
  arc A62 (-8.7558, -18.2067) -> (-10.4902, -18.9251) centre (-9.4742, -18.9251) ccw
  line L62 (-10.4902, -18.9251) -> (-10.4902, -21.0439)
  arc A63 (-12.7, -21.0439) -> (-10.4902, -21.0439) centre (-11.5951, -21.0439) ccw
  line L63 (-12.7, -21.0439) -> (-12.7, -4.3561)
  point P0 (0, 0)
  dimension "d277" = 1.5748
  dimension "d278" = 3.175
  dimension "d322" = 2.667
  dimension "d323" = 8.1828
  dimension "d324" = 17.2172
  dimension "d325" = 22.733
  dimension "d328" = 8.1828
  dimension "d329" = 17.2172
  dimension "d330" = 33.5828
  dimension "d331" = 42.6172
  dimension "d333" = 15.7509
  dimension "d345" = 20.1702
  dimension "d447" = 2.2096
  dimension "d506" = 1.016
  dimension "d523" = 17.9605
  dimension "d532" = 17.9605
  dimension "d541" = 2.2096
extrude "Extrusion1" add sketch "Sketch1" along normal mid plane 25.4
properties part number "1020-S-BLACK-FB" material "6105-T5"
